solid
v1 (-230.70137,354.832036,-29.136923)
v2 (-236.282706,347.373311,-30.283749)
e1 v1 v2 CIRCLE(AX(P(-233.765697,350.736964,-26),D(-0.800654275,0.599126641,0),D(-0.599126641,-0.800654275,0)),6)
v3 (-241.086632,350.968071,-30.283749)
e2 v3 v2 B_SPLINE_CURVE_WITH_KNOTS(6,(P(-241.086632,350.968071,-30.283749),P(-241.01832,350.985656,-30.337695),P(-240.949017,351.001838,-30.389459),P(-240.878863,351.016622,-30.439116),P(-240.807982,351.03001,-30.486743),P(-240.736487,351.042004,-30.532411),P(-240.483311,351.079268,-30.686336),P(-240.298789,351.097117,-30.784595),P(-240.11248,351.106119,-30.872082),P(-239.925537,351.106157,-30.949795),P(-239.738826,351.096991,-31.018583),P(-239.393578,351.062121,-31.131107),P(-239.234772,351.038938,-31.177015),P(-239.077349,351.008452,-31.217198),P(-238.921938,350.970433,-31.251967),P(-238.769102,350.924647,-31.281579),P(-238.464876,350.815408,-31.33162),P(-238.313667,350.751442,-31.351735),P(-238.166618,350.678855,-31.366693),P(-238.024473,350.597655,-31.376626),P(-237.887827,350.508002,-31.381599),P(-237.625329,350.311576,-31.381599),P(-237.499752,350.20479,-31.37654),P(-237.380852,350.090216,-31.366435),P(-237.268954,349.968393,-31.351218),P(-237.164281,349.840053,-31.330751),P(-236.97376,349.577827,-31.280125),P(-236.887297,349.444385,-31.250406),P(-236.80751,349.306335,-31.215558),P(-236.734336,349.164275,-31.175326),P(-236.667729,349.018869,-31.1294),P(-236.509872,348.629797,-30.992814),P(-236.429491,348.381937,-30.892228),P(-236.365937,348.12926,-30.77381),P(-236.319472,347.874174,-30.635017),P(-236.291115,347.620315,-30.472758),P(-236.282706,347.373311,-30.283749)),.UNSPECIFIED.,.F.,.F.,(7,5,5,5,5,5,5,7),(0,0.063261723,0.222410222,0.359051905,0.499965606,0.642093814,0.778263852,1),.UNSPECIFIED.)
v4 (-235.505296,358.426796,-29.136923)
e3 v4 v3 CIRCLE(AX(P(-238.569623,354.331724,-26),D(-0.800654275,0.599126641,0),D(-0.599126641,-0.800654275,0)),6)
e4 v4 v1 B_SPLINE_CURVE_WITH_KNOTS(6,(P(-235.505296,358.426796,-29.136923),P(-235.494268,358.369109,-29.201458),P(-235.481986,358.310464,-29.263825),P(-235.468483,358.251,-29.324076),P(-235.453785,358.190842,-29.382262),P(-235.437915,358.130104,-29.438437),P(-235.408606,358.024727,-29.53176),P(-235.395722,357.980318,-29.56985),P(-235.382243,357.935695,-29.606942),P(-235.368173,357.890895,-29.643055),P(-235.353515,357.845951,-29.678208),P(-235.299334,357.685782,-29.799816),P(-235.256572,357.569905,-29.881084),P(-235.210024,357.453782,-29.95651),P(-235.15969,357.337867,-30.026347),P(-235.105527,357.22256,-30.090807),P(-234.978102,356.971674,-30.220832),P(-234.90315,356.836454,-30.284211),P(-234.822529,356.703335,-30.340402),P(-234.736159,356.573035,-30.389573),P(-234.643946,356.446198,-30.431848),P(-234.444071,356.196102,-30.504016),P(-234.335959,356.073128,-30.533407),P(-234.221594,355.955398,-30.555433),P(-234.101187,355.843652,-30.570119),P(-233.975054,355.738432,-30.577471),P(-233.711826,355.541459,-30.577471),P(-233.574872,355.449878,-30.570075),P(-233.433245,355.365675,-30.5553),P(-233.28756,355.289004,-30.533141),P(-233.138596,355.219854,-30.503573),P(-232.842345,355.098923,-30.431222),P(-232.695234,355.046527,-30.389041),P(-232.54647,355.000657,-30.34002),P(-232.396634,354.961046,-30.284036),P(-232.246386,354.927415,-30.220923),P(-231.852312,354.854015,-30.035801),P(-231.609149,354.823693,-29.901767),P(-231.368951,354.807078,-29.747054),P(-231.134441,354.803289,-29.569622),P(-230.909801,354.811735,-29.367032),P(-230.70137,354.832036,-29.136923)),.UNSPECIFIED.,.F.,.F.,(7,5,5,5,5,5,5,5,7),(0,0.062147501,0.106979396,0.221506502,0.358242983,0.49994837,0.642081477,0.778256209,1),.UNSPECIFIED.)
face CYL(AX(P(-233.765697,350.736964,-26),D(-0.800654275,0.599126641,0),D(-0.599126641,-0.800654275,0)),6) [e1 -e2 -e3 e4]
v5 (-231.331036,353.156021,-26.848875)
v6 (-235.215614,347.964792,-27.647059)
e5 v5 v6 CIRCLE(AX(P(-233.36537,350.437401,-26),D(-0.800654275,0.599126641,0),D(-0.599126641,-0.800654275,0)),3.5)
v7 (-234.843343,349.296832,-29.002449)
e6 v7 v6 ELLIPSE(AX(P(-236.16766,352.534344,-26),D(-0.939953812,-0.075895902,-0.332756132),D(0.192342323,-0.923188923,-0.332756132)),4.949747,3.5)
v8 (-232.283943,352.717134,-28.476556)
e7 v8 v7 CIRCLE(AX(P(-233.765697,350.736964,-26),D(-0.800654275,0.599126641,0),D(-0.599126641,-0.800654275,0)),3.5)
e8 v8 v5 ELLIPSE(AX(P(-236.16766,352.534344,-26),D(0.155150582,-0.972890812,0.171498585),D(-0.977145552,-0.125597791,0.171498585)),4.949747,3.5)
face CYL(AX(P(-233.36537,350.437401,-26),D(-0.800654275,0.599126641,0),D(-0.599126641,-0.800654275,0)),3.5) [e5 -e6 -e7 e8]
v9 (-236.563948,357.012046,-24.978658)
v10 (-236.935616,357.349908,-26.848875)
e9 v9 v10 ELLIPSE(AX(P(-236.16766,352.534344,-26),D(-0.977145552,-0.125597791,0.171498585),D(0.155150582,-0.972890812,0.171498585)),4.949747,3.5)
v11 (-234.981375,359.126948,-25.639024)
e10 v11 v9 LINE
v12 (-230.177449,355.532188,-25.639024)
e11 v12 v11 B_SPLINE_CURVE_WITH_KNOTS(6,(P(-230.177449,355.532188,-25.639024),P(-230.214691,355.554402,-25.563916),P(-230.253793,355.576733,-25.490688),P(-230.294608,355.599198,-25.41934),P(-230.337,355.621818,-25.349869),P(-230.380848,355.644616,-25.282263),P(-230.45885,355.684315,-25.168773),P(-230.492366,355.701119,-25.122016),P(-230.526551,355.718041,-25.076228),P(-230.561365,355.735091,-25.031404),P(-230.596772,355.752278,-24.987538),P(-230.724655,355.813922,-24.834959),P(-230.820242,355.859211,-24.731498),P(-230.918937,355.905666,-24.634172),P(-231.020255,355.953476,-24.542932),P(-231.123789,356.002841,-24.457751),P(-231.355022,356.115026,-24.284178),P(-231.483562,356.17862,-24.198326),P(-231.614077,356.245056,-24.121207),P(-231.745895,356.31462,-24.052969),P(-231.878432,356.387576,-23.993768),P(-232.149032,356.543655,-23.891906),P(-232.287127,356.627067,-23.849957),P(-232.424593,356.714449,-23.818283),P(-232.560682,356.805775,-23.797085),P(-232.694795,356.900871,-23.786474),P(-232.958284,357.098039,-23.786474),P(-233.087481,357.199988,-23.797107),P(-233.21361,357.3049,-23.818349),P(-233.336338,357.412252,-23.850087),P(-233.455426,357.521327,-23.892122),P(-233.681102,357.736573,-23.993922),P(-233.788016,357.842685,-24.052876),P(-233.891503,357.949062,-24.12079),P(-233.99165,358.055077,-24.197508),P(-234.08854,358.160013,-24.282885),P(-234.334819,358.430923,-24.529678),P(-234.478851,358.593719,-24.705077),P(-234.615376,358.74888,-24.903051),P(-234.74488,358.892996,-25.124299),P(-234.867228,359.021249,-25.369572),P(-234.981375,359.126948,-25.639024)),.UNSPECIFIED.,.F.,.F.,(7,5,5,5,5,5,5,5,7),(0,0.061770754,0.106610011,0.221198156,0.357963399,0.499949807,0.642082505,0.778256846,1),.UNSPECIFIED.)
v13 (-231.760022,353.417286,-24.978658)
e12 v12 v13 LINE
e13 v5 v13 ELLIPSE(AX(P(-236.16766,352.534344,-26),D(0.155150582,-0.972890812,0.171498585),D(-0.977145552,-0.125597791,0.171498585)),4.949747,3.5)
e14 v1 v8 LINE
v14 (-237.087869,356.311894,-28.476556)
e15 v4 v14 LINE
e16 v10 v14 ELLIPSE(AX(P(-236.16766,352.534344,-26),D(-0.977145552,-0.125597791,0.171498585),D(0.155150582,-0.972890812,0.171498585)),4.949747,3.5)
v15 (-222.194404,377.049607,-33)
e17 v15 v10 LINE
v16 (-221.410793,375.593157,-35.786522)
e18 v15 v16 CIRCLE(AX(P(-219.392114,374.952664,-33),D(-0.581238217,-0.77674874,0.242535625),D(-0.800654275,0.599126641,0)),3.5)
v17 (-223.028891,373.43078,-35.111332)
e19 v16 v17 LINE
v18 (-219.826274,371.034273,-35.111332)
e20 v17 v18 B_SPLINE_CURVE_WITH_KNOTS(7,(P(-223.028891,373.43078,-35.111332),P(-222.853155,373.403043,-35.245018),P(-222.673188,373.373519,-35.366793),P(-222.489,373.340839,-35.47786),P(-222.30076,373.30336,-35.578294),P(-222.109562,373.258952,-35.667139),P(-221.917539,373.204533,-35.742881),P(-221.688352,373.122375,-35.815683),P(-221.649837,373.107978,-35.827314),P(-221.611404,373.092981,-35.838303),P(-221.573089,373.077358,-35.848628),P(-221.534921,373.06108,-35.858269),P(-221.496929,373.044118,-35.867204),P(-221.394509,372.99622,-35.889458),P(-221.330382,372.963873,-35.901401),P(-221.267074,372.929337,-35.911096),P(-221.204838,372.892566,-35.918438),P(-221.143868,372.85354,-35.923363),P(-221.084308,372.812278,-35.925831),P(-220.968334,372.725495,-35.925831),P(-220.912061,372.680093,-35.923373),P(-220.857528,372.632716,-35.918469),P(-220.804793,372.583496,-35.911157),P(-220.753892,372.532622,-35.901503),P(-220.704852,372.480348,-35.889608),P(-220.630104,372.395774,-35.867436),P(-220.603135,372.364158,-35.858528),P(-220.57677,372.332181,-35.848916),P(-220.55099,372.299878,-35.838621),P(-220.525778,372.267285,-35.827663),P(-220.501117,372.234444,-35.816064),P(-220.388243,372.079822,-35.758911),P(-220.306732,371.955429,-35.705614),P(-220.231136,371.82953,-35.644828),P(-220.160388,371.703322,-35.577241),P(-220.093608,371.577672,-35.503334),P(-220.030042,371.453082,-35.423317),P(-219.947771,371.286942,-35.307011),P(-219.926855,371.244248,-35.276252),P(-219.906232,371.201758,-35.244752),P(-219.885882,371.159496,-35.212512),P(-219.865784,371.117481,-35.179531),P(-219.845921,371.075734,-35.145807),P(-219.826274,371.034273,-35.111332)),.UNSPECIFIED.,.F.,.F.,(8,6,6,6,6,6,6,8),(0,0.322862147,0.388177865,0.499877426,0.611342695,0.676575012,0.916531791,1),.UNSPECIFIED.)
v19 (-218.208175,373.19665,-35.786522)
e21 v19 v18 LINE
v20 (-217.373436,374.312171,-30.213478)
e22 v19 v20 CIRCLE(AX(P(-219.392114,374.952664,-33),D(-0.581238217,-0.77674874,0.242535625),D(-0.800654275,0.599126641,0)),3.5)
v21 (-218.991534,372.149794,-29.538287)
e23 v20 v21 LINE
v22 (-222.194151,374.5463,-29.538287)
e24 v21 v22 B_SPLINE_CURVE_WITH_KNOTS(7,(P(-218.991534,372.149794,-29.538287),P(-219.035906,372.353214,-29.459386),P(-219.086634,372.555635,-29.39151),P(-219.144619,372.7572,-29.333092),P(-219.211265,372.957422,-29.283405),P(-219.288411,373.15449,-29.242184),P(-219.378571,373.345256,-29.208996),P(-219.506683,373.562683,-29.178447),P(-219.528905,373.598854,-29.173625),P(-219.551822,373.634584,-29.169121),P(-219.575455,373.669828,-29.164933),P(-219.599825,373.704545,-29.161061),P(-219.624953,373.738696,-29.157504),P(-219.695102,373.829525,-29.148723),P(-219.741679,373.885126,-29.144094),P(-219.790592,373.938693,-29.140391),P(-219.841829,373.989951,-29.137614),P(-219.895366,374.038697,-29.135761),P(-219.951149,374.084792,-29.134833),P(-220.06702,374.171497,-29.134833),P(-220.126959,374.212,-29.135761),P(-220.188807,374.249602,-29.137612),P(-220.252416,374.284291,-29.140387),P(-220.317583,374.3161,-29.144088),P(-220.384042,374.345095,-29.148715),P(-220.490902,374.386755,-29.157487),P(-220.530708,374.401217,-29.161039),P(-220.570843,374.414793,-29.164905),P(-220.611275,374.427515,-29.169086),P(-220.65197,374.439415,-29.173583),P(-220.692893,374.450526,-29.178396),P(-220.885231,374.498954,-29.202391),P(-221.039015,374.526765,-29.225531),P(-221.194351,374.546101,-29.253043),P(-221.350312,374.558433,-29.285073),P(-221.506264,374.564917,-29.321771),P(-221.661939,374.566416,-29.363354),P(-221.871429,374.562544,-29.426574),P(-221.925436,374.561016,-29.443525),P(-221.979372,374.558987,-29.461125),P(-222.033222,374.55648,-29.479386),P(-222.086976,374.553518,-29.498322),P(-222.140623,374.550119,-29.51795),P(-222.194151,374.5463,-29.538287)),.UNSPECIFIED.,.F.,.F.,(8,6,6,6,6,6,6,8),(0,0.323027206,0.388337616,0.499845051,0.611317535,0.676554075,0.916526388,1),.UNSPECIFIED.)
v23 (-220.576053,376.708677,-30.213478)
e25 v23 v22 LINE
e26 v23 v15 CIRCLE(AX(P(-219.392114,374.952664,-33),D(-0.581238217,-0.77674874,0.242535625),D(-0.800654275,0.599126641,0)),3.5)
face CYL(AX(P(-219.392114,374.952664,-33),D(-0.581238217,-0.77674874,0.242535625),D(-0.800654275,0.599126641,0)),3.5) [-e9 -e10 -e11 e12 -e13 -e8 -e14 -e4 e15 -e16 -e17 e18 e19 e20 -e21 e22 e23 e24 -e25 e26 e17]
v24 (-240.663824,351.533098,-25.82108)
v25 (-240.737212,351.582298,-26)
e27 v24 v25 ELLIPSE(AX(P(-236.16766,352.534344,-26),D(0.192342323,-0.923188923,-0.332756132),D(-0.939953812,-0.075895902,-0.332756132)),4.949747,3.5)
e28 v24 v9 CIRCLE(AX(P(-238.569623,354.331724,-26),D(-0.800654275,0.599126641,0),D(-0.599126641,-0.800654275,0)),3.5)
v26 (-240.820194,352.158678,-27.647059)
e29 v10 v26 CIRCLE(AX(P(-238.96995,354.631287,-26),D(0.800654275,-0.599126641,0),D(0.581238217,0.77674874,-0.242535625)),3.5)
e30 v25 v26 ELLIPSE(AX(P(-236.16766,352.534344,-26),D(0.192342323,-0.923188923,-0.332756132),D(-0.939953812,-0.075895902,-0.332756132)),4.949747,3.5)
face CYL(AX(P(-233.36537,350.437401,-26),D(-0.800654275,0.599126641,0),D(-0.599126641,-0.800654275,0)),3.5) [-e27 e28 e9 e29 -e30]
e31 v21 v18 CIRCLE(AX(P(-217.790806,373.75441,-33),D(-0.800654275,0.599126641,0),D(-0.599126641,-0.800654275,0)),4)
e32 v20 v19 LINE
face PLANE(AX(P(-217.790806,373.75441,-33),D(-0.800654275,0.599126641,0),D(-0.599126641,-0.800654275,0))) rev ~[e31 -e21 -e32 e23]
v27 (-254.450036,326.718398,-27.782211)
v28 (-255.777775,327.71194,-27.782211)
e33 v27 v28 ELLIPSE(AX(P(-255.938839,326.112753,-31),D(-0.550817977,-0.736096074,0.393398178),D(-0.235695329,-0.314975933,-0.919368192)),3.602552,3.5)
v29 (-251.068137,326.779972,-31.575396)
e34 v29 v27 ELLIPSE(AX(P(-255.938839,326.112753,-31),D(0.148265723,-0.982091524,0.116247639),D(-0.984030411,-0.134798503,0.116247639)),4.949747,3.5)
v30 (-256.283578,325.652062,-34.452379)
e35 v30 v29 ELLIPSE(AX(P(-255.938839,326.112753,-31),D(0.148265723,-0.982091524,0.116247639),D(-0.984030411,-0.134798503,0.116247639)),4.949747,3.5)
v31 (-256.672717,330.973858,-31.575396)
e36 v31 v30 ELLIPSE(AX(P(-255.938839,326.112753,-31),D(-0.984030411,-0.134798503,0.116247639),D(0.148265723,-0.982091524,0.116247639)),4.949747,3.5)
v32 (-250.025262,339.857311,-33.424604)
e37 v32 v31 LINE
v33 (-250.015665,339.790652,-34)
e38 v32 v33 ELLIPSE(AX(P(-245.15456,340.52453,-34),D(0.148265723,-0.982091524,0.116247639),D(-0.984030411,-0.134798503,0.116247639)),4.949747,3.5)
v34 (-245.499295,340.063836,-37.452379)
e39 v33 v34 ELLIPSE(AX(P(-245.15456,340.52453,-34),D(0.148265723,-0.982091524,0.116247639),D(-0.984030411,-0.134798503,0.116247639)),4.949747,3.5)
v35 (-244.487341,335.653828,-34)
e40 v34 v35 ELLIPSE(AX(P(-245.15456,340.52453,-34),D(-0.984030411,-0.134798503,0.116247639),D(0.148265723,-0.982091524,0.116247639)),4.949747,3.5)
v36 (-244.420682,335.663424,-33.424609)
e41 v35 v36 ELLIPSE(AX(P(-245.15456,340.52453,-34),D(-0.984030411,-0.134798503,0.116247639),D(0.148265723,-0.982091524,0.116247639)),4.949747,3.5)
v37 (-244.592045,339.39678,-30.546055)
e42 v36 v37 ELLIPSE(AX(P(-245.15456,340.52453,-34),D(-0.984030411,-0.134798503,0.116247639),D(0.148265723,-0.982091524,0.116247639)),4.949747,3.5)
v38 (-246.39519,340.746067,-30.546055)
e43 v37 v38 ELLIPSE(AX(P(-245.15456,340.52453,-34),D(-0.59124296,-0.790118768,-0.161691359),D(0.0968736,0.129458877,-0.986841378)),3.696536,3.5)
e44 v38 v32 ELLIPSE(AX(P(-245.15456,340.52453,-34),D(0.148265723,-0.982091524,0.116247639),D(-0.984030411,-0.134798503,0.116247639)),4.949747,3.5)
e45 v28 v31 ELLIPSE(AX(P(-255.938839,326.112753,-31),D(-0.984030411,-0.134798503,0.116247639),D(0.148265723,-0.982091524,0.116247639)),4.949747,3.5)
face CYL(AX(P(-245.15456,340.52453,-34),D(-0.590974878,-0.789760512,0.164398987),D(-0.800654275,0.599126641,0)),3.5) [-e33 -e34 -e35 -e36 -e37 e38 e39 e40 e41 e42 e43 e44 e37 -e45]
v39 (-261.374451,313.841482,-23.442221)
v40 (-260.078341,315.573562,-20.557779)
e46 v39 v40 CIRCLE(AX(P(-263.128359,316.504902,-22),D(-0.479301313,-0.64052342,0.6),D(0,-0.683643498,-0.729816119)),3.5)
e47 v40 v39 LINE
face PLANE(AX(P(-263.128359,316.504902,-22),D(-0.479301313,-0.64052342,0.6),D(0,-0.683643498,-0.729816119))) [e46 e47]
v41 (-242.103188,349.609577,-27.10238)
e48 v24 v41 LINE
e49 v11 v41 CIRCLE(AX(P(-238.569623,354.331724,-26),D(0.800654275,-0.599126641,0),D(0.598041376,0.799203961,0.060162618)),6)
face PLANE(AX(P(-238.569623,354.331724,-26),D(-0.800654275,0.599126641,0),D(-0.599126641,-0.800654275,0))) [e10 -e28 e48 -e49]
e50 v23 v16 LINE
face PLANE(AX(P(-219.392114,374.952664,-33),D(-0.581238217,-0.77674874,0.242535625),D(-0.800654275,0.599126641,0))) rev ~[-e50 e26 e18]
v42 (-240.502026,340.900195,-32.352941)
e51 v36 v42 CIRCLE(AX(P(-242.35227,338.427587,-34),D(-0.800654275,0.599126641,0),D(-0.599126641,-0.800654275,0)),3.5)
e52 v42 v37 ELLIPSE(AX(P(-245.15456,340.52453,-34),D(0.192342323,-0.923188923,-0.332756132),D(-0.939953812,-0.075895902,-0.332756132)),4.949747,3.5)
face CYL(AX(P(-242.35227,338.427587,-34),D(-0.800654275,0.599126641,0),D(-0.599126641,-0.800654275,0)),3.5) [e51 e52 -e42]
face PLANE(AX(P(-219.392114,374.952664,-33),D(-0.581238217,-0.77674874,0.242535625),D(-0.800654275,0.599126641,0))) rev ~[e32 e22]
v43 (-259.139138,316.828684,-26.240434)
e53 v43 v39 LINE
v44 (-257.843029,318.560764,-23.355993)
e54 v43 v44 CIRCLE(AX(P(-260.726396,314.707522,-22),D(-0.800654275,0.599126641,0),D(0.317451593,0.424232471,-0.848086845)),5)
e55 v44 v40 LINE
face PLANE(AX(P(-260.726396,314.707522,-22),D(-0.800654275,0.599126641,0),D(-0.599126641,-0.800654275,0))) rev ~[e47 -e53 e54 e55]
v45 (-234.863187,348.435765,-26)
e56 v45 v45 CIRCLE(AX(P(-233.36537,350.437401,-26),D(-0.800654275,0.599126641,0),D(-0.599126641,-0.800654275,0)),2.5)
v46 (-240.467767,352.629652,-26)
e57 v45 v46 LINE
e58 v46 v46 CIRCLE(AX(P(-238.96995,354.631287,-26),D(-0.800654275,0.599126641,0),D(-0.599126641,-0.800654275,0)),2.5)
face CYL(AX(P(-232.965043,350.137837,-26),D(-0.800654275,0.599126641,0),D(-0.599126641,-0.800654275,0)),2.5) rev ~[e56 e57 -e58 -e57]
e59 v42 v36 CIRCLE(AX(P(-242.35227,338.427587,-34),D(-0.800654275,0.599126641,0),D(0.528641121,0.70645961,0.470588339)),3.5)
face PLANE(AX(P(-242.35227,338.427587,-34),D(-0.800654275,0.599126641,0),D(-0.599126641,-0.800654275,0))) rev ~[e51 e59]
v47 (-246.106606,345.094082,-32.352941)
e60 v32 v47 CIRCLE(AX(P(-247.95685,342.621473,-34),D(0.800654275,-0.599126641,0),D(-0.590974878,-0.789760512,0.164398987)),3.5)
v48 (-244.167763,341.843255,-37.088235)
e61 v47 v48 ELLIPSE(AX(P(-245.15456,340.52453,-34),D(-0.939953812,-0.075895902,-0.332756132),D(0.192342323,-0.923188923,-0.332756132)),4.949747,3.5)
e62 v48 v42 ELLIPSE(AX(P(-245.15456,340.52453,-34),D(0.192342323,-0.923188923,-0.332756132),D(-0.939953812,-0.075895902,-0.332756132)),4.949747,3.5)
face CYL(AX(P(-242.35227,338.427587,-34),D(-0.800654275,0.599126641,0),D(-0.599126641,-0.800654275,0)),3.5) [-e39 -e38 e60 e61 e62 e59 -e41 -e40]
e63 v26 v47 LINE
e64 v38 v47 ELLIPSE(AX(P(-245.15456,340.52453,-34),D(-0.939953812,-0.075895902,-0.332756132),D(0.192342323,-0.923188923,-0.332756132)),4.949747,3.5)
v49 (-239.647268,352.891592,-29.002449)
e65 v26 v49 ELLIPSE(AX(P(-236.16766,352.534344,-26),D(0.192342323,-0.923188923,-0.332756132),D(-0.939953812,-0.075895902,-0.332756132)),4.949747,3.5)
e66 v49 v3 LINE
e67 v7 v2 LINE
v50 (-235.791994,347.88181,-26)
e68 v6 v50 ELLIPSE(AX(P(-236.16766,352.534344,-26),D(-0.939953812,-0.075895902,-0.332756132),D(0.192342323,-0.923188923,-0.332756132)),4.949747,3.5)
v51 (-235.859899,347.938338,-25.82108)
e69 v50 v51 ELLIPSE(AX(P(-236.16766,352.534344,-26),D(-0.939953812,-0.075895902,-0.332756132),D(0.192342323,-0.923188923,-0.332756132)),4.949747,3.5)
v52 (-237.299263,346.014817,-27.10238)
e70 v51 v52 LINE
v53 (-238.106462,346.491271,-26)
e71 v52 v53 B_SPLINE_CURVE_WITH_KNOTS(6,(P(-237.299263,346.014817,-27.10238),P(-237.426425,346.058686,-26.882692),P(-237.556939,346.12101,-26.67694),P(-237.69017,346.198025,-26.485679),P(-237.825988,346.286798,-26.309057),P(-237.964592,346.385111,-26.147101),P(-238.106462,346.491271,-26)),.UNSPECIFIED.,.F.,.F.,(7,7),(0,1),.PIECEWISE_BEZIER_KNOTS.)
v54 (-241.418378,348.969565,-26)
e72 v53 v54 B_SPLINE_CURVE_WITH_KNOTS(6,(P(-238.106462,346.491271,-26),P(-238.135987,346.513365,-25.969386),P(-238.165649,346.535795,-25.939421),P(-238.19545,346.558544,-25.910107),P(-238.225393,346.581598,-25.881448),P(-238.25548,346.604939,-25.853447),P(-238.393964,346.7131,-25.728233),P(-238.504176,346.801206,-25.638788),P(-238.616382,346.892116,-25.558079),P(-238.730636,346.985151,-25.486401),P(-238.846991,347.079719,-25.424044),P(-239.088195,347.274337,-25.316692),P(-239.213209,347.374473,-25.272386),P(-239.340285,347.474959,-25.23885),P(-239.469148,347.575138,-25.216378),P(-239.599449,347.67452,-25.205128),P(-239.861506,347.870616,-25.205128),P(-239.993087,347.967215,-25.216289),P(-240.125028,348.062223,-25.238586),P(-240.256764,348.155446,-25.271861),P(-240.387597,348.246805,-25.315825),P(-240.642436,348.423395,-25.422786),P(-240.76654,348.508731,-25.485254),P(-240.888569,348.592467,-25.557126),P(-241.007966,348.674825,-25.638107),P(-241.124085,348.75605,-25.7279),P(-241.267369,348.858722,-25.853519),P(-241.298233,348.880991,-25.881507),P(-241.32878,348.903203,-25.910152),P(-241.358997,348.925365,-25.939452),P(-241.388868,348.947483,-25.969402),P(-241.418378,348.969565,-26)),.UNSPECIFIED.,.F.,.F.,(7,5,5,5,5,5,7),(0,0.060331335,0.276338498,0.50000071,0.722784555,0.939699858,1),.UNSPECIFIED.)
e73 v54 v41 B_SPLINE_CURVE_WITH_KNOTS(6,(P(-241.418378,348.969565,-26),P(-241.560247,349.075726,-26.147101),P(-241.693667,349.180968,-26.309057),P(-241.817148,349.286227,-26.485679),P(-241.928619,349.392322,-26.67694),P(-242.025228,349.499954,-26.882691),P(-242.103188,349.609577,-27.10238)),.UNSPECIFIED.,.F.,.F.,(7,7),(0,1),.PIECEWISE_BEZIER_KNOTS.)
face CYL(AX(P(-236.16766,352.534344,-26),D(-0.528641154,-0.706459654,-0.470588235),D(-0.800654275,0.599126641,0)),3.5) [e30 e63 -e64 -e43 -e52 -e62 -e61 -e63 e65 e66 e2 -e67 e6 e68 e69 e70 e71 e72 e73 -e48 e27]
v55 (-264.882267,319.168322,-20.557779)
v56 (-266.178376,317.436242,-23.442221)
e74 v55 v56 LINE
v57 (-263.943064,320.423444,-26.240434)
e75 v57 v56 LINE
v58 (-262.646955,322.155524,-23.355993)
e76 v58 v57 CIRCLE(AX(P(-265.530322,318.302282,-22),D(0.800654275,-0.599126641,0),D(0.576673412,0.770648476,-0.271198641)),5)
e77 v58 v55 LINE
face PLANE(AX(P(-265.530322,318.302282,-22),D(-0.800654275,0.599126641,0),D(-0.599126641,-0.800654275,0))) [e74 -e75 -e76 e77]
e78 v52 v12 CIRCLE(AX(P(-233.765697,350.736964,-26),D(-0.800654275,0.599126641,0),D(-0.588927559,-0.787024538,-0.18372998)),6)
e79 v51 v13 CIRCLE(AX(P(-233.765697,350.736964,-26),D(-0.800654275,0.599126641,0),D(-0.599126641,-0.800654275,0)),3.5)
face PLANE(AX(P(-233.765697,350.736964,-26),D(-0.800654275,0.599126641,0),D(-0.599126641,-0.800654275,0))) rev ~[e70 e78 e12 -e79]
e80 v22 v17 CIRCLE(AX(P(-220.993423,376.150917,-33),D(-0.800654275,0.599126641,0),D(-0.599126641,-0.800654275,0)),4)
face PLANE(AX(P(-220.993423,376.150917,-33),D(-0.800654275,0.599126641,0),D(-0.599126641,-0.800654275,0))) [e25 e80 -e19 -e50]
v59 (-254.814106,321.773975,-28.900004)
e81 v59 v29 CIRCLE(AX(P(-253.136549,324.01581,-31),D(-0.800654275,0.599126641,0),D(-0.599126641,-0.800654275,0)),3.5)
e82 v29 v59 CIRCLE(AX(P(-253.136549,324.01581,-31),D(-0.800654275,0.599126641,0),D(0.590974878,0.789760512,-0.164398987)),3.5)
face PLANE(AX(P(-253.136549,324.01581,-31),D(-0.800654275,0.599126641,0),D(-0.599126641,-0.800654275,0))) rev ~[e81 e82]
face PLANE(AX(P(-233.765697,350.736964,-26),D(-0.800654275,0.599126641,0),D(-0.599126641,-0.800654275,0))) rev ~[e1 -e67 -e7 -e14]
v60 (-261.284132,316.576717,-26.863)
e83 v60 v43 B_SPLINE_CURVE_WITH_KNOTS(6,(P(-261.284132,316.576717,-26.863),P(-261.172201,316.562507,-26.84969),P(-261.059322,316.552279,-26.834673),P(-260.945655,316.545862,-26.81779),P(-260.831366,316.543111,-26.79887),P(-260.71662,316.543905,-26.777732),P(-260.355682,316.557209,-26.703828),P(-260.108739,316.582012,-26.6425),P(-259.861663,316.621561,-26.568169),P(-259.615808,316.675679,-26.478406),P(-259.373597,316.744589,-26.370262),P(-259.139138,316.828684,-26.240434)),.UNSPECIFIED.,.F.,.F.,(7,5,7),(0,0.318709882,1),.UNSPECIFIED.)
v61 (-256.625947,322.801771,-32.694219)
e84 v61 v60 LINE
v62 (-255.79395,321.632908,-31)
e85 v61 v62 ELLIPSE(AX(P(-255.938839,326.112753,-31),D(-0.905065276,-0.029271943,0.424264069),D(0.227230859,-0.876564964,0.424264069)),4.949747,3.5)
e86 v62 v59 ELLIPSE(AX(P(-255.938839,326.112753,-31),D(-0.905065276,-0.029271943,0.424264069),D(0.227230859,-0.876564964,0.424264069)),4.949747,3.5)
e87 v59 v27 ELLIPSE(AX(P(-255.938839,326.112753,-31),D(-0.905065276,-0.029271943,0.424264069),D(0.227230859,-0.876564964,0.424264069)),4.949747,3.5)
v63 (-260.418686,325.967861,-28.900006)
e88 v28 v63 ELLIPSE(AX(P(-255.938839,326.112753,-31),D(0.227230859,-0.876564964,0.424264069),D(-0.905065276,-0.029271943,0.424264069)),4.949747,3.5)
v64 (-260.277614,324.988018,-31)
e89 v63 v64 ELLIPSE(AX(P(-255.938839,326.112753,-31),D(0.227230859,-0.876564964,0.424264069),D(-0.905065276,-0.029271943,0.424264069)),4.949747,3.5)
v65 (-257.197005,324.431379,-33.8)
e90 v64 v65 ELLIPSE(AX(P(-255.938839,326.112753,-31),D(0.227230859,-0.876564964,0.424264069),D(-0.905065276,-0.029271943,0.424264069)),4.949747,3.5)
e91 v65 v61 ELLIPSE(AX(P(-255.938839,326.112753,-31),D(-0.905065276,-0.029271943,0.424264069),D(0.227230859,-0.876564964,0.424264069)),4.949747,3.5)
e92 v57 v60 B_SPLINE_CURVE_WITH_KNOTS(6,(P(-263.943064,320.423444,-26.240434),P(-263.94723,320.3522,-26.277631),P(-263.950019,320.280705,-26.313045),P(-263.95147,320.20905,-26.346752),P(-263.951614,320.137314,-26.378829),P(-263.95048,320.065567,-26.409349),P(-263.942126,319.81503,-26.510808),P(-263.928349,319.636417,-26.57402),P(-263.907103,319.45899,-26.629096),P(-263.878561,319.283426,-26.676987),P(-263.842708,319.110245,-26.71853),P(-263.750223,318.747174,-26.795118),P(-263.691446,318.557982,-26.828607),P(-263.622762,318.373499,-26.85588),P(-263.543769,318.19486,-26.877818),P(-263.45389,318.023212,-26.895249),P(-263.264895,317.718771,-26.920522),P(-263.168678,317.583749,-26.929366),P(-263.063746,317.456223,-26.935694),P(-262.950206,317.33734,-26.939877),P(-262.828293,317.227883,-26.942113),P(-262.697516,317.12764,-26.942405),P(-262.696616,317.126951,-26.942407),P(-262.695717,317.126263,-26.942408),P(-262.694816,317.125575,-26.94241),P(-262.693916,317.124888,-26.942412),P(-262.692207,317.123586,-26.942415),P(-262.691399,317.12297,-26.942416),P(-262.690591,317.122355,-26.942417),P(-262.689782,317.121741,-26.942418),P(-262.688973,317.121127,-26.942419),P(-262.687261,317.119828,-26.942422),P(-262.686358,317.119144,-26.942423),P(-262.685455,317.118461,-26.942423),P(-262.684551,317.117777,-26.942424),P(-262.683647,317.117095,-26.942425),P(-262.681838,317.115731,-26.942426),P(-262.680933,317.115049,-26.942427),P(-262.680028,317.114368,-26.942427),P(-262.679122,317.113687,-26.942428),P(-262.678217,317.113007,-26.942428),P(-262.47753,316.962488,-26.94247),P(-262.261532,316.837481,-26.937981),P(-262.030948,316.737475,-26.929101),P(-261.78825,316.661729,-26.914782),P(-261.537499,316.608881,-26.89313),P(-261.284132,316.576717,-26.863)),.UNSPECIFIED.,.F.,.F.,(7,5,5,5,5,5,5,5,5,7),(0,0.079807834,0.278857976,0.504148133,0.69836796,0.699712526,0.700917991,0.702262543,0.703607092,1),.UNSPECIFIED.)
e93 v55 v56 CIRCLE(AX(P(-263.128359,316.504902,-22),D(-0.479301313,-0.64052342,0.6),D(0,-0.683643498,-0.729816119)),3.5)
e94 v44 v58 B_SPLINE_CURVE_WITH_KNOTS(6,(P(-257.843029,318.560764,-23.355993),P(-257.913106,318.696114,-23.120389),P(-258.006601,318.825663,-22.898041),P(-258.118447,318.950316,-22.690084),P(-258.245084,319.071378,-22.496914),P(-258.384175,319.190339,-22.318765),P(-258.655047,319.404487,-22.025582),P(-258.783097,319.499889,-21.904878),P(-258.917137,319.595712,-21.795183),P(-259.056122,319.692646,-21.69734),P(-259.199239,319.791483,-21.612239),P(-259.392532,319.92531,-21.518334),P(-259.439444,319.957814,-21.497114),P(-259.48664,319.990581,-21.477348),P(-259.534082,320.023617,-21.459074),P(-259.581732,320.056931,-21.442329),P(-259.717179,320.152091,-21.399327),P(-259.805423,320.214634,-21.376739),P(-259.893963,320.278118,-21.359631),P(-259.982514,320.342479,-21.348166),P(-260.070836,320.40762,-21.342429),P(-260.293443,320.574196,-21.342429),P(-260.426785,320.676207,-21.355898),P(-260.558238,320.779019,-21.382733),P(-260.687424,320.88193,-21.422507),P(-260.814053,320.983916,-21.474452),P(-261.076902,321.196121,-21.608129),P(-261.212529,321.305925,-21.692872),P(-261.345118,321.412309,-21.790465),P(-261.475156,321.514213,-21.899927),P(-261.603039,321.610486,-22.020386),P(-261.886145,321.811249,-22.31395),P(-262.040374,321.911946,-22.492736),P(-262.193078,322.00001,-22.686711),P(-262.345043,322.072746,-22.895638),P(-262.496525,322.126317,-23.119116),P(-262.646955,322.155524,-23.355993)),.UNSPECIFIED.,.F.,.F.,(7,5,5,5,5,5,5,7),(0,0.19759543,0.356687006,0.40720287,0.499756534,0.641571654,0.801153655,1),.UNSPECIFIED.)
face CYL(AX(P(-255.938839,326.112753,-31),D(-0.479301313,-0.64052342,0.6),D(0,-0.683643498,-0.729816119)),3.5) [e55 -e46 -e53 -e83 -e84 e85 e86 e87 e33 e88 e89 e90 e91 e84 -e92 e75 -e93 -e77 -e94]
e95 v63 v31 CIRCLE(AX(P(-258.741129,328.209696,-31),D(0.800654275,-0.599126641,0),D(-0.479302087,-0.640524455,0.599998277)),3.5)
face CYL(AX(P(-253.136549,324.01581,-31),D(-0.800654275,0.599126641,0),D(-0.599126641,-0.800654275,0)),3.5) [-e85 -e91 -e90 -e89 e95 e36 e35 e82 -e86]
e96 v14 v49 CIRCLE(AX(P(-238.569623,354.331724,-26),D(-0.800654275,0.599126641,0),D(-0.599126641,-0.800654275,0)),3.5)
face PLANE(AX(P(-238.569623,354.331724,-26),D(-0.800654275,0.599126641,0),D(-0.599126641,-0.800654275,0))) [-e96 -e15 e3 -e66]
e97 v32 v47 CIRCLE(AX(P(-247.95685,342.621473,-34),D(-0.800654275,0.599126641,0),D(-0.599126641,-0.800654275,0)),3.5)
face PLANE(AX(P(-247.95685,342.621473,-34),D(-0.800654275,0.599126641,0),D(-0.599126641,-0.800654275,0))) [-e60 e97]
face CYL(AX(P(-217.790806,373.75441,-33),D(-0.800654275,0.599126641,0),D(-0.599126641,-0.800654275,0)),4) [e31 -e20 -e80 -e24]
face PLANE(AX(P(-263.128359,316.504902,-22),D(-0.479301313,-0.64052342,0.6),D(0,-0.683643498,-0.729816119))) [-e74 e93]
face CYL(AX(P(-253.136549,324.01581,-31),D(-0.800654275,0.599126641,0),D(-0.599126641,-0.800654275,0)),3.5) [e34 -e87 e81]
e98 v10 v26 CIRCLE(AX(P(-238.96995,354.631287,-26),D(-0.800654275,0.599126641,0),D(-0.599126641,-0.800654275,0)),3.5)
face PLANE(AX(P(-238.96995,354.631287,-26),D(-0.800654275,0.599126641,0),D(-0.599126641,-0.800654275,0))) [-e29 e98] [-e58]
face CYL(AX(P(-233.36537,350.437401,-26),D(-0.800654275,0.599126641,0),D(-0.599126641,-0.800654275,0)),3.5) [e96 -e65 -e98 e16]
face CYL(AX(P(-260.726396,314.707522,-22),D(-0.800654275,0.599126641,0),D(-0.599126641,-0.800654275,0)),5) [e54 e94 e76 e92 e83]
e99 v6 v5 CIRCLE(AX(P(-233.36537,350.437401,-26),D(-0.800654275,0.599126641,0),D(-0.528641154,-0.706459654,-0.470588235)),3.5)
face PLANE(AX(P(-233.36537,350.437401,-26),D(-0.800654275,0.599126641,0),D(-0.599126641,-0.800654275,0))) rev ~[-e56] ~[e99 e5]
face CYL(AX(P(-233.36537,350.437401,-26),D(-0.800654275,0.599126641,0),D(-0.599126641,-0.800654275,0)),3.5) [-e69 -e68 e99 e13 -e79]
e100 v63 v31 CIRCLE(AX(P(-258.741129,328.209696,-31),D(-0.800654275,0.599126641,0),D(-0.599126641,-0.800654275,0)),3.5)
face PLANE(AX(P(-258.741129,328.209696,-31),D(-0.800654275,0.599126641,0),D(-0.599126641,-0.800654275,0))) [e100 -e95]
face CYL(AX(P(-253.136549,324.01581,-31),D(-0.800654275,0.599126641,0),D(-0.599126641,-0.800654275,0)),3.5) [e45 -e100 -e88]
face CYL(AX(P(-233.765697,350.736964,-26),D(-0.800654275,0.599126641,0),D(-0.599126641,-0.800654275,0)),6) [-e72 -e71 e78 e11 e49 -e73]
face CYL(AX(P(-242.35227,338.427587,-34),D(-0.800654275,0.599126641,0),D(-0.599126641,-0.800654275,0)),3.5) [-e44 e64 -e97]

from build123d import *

# Parameters (mm, degrees)
BRAZO_1_PROFILE_R        = 3.5
BRAZO_2_PROFILE_R        = 3.5
BRAZO_3_PROFILE_R        = 3.5
BRAZO_4_PROFILE_R        = 3.5
BRAZO_CODO_1_PROFILE_R   = 3.5
BRAZO_CODO_2_PROFILE_R   = 3.5
BRAZO_CODO_3_PROFILE_R   = 3.5
OJO_PIVOTE_PROFILE_R     = 6
ANCLAJE_CABLE_PROFILE_R  = 4
OJO_ZAPATA_PROFILE_R     = 5
TALADRO_PIVOTE_PROFILE_R = 2.5


with BuildPart() as part:
    # Brazo_1: sweep along a curve in space
    with BuildLine() as brazo_1_path:
        Line((-219.3921140600151, 374.952663744163, -33), (-236.16766000662344, 352.53434404367624, -26))
    # Brazo_1 profile (on start of the path) → Brazo_1 (sweep)
    with BuildSketch(Plane(origin=(-219.3921140600151, 374.952663744163, -33), x_dir=(-0.8006542750173838, 0.5991266409502981, 0), z_dir=(-0.5812382173551968, -0.776748740117413, 0.24253562503633316))):
        Circle(BRAZO_1_PROFILE_R)
    sweep(path=brazo_1_path.line)

    # Brazo_2: sweep along a curve in space
    with BuildLine() as brazo_2_path:
        Line((-236.16766000662344, 352.53434404367624, -26), (-245.1545596208779, 340.52452991841545, -34))
    # Brazo_2 profile (on start of the path) → Brazo_2 (sweep)
    with BuildSketch(Plane(origin=(-236.16766000662344, 352.53434404367624, -26), x_dir=(-0.8006542750173846, 0.5991266409502971, 0), z_dir=(-0.5286411537796741, -0.7064596544271045, -0.4705882352941171))):
        Circle(BRAZO_2_PROFILE_R)
    sweep(path=brazo_2_path.line)

    # Brazo_3: sweep along a curve in space
    with BuildLine() as brazo_3_path:
        Line((-245.1545596208779, 340.52452991841545, -34), (-255.93883915798327, 326.11275296810254, -31))
    # Brazo_3 profile (on start of the path) → Brazo_3 (sweep)
    with BuildSketch(Plane(origin=(-245.1545596208779, 340.52452991841545, -34), x_dir=(-0.8006542750173841, 0.599126640950298, 0), z_dir=(-0.5909748782393364, -0.7897605119673778, 0.16439898730535732))):
        Circle(BRAZO_3_PROFILE_R)
    sweep(path=brazo_3_path.line)

    # Brazo_4: sweep along a curve in space
    with BuildLine() as brazo_4_path:
        Line((-255.93883915798327, 326.11275296810254, -31), (-263.1283588493868, 316.50490166789393, -22))
    # Brazo_4 profile (on start of the path) → Brazo_4 (sweep)
    with BuildSketch(Plane(origin=(-255.93883915798327, 326.11275296810254, -31), x_dir=(0, -0.6836434980231229, -0.729816119040069), z_dir=(-0.4793013127602369, -0.6405234200139078, 0.6000000000000006))):
        Circle(BRAZO_4_PROFILE_R)
    sweep(path=brazo_4_path.line)

    # Brazo_codo_1: sweep along a curve in space
    with BuildLine() as brazo_codo_1_path:
        Line((-233.3653700440626, 350.4374008003502, -26), (-238.96994996918428, 354.6312872870023, -26))
    # Brazo_codo_1 profile (on start of the path) → Brazo_codo_1 (sweep)
    with BuildSketch(Plane(origin=(-233.3653700440626, 350.4374008003502, -26), x_dir=(-0.599126640950299, -0.8006542750173832, 0), z_dir=(-0.8006542750173832, 0.599126640950299, 0))):
        Circle(BRAZO_CODO_1_PROFILE_R)
    sweep(path=brazo_codo_1_path.line)

    # Brazo_codo_2: sweep along a curve in space
    with BuildLine() as brazo_codo_2_path:
        Line((-242.35226965831706, 338.4275866750894, -34), (-247.95684958343875, 342.6214731617415, -34))
    # Brazo_codo_2 profile (on start of the path) → Brazo_codo_2 (sweep)
    with BuildSketch(Plane(origin=(-242.35226965831706, 338.4275866750894, -34), x_dir=(-0.599126640950299, -0.8006542750173832, 0), z_dir=(-0.8006542750173832, 0.599126640950299, 0))):
        Circle(BRAZO_CODO_2_PROFILE_R)
    sweep(path=brazo_codo_2_path.line)

    # Brazo_codo_3: sweep along a curve in space
    with BuildLine() as brazo_codo_3_path:
        Line((-253.13654919542245, 324.0158097247765, -31), (-258.7411291205441, 328.2096962114286, -31))
    # Brazo_codo_3 profile (on start of the path) → Brazo_codo_3 (sweep)
    with BuildSketch(Plane(origin=(-253.13654919542245, 324.0158097247765, -31), x_dir=(-0.5991266409503029, -0.8006542750173803, 0), z_dir=(-0.8006542750173803, 0.5991266409503029, 0))):
        Circle(BRAZO_CODO_3_PROFILE_R)
    sweep(path=brazo_codo_3_path.line)

    # Ojo_pivote: sweep along a curve in space
    with BuildLine() as ojo_pivote_path:
        Line((-233.76569718157128, 350.73696412082535, -26), (-238.5696228316756, 354.33172396652714, -26))
    # Ojo_pivote profile (on start of the path) → Ojo_pivote (sweep)
    with BuildSketch(Plane(origin=(-233.76569718157128, 350.73696412082535, -26), x_dir=(-0.5991266409502979, -0.8006542750173841, 0), z_dir=(-0.8006542750173841, 0.5991266409502979, 0))):
        Circle(OJO_PIVOTE_PROFILE_R)
    sweep(path=ojo_pivote_path.line)

    # Anclaje_cable: sweep along a curve in space
    with BuildLine() as anclaje_cable_path:
        Line((-217.79080550998034, 373.7544104622624, -33), (-220.9934226100499, 376.15091702606355, -33))
    # Anclaje_cable profile (on start of the path) → Anclaje_cable (sweep)
    with BuildSketch(Plane(origin=(-217.79080550998034, 373.7544104622624, -33), x_dir=(-0.5991266409502907, -0.8006542750173894, 0), z_dir=(-0.8006542750173894, 0.5991266409502907, 0))):
        Circle(ANCLAJE_CABLE_PROFILE_R)
    sweep(path=anclaje_cable_path.line)

    # Ojo_zapata: sweep along a curve in space
    with BuildLine() as ojo_zapata_path:
        Line((-260.7263960243347, 314.70752174504304, -22), (-265.530321674439, 318.3022815907448, -22))
    # Ojo_zapata profile (on start of the path) → Ojo_zapata (sweep)
    with BuildSketch(Plane(origin=(-260.7263960243347, 314.70752174504304, -22), x_dir=(-0.5991266409502979, -0.8006542750173841, 0), z_dir=(-0.8006542750173841, 0.5991266409502979, 0))):
        Circle(OJO_ZAPATA_PROFILE_R)
    sweep(path=ojo_zapata_path.line)

    # Taladro_pivote: sweep along a curve in space
    with BuildLine() as taladro_pivote_path:
        Line((-232.9650429065539, 350.13783747987503, -26), (-239.37027710669298, 354.93085060747745, -26))
    # Taladro_pivote profile (on start of the path) → Taladro_pivote (sweep, cut)
    with BuildSketch(Plane(origin=(-232.9650429065539, 350.13783747987503, -26), x_dir=(-0.5991266409502999, -0.8006542750173826, 0), z_dir=(-0.8006542750173826, 0.5991266409502999, 0))):
        Circle(TALADRO_PIVOTE_PROFILE_R)
    sweep(path=taladro_pivote_path.line, mode=Mode.SUBTRACT)


solid = part.part
